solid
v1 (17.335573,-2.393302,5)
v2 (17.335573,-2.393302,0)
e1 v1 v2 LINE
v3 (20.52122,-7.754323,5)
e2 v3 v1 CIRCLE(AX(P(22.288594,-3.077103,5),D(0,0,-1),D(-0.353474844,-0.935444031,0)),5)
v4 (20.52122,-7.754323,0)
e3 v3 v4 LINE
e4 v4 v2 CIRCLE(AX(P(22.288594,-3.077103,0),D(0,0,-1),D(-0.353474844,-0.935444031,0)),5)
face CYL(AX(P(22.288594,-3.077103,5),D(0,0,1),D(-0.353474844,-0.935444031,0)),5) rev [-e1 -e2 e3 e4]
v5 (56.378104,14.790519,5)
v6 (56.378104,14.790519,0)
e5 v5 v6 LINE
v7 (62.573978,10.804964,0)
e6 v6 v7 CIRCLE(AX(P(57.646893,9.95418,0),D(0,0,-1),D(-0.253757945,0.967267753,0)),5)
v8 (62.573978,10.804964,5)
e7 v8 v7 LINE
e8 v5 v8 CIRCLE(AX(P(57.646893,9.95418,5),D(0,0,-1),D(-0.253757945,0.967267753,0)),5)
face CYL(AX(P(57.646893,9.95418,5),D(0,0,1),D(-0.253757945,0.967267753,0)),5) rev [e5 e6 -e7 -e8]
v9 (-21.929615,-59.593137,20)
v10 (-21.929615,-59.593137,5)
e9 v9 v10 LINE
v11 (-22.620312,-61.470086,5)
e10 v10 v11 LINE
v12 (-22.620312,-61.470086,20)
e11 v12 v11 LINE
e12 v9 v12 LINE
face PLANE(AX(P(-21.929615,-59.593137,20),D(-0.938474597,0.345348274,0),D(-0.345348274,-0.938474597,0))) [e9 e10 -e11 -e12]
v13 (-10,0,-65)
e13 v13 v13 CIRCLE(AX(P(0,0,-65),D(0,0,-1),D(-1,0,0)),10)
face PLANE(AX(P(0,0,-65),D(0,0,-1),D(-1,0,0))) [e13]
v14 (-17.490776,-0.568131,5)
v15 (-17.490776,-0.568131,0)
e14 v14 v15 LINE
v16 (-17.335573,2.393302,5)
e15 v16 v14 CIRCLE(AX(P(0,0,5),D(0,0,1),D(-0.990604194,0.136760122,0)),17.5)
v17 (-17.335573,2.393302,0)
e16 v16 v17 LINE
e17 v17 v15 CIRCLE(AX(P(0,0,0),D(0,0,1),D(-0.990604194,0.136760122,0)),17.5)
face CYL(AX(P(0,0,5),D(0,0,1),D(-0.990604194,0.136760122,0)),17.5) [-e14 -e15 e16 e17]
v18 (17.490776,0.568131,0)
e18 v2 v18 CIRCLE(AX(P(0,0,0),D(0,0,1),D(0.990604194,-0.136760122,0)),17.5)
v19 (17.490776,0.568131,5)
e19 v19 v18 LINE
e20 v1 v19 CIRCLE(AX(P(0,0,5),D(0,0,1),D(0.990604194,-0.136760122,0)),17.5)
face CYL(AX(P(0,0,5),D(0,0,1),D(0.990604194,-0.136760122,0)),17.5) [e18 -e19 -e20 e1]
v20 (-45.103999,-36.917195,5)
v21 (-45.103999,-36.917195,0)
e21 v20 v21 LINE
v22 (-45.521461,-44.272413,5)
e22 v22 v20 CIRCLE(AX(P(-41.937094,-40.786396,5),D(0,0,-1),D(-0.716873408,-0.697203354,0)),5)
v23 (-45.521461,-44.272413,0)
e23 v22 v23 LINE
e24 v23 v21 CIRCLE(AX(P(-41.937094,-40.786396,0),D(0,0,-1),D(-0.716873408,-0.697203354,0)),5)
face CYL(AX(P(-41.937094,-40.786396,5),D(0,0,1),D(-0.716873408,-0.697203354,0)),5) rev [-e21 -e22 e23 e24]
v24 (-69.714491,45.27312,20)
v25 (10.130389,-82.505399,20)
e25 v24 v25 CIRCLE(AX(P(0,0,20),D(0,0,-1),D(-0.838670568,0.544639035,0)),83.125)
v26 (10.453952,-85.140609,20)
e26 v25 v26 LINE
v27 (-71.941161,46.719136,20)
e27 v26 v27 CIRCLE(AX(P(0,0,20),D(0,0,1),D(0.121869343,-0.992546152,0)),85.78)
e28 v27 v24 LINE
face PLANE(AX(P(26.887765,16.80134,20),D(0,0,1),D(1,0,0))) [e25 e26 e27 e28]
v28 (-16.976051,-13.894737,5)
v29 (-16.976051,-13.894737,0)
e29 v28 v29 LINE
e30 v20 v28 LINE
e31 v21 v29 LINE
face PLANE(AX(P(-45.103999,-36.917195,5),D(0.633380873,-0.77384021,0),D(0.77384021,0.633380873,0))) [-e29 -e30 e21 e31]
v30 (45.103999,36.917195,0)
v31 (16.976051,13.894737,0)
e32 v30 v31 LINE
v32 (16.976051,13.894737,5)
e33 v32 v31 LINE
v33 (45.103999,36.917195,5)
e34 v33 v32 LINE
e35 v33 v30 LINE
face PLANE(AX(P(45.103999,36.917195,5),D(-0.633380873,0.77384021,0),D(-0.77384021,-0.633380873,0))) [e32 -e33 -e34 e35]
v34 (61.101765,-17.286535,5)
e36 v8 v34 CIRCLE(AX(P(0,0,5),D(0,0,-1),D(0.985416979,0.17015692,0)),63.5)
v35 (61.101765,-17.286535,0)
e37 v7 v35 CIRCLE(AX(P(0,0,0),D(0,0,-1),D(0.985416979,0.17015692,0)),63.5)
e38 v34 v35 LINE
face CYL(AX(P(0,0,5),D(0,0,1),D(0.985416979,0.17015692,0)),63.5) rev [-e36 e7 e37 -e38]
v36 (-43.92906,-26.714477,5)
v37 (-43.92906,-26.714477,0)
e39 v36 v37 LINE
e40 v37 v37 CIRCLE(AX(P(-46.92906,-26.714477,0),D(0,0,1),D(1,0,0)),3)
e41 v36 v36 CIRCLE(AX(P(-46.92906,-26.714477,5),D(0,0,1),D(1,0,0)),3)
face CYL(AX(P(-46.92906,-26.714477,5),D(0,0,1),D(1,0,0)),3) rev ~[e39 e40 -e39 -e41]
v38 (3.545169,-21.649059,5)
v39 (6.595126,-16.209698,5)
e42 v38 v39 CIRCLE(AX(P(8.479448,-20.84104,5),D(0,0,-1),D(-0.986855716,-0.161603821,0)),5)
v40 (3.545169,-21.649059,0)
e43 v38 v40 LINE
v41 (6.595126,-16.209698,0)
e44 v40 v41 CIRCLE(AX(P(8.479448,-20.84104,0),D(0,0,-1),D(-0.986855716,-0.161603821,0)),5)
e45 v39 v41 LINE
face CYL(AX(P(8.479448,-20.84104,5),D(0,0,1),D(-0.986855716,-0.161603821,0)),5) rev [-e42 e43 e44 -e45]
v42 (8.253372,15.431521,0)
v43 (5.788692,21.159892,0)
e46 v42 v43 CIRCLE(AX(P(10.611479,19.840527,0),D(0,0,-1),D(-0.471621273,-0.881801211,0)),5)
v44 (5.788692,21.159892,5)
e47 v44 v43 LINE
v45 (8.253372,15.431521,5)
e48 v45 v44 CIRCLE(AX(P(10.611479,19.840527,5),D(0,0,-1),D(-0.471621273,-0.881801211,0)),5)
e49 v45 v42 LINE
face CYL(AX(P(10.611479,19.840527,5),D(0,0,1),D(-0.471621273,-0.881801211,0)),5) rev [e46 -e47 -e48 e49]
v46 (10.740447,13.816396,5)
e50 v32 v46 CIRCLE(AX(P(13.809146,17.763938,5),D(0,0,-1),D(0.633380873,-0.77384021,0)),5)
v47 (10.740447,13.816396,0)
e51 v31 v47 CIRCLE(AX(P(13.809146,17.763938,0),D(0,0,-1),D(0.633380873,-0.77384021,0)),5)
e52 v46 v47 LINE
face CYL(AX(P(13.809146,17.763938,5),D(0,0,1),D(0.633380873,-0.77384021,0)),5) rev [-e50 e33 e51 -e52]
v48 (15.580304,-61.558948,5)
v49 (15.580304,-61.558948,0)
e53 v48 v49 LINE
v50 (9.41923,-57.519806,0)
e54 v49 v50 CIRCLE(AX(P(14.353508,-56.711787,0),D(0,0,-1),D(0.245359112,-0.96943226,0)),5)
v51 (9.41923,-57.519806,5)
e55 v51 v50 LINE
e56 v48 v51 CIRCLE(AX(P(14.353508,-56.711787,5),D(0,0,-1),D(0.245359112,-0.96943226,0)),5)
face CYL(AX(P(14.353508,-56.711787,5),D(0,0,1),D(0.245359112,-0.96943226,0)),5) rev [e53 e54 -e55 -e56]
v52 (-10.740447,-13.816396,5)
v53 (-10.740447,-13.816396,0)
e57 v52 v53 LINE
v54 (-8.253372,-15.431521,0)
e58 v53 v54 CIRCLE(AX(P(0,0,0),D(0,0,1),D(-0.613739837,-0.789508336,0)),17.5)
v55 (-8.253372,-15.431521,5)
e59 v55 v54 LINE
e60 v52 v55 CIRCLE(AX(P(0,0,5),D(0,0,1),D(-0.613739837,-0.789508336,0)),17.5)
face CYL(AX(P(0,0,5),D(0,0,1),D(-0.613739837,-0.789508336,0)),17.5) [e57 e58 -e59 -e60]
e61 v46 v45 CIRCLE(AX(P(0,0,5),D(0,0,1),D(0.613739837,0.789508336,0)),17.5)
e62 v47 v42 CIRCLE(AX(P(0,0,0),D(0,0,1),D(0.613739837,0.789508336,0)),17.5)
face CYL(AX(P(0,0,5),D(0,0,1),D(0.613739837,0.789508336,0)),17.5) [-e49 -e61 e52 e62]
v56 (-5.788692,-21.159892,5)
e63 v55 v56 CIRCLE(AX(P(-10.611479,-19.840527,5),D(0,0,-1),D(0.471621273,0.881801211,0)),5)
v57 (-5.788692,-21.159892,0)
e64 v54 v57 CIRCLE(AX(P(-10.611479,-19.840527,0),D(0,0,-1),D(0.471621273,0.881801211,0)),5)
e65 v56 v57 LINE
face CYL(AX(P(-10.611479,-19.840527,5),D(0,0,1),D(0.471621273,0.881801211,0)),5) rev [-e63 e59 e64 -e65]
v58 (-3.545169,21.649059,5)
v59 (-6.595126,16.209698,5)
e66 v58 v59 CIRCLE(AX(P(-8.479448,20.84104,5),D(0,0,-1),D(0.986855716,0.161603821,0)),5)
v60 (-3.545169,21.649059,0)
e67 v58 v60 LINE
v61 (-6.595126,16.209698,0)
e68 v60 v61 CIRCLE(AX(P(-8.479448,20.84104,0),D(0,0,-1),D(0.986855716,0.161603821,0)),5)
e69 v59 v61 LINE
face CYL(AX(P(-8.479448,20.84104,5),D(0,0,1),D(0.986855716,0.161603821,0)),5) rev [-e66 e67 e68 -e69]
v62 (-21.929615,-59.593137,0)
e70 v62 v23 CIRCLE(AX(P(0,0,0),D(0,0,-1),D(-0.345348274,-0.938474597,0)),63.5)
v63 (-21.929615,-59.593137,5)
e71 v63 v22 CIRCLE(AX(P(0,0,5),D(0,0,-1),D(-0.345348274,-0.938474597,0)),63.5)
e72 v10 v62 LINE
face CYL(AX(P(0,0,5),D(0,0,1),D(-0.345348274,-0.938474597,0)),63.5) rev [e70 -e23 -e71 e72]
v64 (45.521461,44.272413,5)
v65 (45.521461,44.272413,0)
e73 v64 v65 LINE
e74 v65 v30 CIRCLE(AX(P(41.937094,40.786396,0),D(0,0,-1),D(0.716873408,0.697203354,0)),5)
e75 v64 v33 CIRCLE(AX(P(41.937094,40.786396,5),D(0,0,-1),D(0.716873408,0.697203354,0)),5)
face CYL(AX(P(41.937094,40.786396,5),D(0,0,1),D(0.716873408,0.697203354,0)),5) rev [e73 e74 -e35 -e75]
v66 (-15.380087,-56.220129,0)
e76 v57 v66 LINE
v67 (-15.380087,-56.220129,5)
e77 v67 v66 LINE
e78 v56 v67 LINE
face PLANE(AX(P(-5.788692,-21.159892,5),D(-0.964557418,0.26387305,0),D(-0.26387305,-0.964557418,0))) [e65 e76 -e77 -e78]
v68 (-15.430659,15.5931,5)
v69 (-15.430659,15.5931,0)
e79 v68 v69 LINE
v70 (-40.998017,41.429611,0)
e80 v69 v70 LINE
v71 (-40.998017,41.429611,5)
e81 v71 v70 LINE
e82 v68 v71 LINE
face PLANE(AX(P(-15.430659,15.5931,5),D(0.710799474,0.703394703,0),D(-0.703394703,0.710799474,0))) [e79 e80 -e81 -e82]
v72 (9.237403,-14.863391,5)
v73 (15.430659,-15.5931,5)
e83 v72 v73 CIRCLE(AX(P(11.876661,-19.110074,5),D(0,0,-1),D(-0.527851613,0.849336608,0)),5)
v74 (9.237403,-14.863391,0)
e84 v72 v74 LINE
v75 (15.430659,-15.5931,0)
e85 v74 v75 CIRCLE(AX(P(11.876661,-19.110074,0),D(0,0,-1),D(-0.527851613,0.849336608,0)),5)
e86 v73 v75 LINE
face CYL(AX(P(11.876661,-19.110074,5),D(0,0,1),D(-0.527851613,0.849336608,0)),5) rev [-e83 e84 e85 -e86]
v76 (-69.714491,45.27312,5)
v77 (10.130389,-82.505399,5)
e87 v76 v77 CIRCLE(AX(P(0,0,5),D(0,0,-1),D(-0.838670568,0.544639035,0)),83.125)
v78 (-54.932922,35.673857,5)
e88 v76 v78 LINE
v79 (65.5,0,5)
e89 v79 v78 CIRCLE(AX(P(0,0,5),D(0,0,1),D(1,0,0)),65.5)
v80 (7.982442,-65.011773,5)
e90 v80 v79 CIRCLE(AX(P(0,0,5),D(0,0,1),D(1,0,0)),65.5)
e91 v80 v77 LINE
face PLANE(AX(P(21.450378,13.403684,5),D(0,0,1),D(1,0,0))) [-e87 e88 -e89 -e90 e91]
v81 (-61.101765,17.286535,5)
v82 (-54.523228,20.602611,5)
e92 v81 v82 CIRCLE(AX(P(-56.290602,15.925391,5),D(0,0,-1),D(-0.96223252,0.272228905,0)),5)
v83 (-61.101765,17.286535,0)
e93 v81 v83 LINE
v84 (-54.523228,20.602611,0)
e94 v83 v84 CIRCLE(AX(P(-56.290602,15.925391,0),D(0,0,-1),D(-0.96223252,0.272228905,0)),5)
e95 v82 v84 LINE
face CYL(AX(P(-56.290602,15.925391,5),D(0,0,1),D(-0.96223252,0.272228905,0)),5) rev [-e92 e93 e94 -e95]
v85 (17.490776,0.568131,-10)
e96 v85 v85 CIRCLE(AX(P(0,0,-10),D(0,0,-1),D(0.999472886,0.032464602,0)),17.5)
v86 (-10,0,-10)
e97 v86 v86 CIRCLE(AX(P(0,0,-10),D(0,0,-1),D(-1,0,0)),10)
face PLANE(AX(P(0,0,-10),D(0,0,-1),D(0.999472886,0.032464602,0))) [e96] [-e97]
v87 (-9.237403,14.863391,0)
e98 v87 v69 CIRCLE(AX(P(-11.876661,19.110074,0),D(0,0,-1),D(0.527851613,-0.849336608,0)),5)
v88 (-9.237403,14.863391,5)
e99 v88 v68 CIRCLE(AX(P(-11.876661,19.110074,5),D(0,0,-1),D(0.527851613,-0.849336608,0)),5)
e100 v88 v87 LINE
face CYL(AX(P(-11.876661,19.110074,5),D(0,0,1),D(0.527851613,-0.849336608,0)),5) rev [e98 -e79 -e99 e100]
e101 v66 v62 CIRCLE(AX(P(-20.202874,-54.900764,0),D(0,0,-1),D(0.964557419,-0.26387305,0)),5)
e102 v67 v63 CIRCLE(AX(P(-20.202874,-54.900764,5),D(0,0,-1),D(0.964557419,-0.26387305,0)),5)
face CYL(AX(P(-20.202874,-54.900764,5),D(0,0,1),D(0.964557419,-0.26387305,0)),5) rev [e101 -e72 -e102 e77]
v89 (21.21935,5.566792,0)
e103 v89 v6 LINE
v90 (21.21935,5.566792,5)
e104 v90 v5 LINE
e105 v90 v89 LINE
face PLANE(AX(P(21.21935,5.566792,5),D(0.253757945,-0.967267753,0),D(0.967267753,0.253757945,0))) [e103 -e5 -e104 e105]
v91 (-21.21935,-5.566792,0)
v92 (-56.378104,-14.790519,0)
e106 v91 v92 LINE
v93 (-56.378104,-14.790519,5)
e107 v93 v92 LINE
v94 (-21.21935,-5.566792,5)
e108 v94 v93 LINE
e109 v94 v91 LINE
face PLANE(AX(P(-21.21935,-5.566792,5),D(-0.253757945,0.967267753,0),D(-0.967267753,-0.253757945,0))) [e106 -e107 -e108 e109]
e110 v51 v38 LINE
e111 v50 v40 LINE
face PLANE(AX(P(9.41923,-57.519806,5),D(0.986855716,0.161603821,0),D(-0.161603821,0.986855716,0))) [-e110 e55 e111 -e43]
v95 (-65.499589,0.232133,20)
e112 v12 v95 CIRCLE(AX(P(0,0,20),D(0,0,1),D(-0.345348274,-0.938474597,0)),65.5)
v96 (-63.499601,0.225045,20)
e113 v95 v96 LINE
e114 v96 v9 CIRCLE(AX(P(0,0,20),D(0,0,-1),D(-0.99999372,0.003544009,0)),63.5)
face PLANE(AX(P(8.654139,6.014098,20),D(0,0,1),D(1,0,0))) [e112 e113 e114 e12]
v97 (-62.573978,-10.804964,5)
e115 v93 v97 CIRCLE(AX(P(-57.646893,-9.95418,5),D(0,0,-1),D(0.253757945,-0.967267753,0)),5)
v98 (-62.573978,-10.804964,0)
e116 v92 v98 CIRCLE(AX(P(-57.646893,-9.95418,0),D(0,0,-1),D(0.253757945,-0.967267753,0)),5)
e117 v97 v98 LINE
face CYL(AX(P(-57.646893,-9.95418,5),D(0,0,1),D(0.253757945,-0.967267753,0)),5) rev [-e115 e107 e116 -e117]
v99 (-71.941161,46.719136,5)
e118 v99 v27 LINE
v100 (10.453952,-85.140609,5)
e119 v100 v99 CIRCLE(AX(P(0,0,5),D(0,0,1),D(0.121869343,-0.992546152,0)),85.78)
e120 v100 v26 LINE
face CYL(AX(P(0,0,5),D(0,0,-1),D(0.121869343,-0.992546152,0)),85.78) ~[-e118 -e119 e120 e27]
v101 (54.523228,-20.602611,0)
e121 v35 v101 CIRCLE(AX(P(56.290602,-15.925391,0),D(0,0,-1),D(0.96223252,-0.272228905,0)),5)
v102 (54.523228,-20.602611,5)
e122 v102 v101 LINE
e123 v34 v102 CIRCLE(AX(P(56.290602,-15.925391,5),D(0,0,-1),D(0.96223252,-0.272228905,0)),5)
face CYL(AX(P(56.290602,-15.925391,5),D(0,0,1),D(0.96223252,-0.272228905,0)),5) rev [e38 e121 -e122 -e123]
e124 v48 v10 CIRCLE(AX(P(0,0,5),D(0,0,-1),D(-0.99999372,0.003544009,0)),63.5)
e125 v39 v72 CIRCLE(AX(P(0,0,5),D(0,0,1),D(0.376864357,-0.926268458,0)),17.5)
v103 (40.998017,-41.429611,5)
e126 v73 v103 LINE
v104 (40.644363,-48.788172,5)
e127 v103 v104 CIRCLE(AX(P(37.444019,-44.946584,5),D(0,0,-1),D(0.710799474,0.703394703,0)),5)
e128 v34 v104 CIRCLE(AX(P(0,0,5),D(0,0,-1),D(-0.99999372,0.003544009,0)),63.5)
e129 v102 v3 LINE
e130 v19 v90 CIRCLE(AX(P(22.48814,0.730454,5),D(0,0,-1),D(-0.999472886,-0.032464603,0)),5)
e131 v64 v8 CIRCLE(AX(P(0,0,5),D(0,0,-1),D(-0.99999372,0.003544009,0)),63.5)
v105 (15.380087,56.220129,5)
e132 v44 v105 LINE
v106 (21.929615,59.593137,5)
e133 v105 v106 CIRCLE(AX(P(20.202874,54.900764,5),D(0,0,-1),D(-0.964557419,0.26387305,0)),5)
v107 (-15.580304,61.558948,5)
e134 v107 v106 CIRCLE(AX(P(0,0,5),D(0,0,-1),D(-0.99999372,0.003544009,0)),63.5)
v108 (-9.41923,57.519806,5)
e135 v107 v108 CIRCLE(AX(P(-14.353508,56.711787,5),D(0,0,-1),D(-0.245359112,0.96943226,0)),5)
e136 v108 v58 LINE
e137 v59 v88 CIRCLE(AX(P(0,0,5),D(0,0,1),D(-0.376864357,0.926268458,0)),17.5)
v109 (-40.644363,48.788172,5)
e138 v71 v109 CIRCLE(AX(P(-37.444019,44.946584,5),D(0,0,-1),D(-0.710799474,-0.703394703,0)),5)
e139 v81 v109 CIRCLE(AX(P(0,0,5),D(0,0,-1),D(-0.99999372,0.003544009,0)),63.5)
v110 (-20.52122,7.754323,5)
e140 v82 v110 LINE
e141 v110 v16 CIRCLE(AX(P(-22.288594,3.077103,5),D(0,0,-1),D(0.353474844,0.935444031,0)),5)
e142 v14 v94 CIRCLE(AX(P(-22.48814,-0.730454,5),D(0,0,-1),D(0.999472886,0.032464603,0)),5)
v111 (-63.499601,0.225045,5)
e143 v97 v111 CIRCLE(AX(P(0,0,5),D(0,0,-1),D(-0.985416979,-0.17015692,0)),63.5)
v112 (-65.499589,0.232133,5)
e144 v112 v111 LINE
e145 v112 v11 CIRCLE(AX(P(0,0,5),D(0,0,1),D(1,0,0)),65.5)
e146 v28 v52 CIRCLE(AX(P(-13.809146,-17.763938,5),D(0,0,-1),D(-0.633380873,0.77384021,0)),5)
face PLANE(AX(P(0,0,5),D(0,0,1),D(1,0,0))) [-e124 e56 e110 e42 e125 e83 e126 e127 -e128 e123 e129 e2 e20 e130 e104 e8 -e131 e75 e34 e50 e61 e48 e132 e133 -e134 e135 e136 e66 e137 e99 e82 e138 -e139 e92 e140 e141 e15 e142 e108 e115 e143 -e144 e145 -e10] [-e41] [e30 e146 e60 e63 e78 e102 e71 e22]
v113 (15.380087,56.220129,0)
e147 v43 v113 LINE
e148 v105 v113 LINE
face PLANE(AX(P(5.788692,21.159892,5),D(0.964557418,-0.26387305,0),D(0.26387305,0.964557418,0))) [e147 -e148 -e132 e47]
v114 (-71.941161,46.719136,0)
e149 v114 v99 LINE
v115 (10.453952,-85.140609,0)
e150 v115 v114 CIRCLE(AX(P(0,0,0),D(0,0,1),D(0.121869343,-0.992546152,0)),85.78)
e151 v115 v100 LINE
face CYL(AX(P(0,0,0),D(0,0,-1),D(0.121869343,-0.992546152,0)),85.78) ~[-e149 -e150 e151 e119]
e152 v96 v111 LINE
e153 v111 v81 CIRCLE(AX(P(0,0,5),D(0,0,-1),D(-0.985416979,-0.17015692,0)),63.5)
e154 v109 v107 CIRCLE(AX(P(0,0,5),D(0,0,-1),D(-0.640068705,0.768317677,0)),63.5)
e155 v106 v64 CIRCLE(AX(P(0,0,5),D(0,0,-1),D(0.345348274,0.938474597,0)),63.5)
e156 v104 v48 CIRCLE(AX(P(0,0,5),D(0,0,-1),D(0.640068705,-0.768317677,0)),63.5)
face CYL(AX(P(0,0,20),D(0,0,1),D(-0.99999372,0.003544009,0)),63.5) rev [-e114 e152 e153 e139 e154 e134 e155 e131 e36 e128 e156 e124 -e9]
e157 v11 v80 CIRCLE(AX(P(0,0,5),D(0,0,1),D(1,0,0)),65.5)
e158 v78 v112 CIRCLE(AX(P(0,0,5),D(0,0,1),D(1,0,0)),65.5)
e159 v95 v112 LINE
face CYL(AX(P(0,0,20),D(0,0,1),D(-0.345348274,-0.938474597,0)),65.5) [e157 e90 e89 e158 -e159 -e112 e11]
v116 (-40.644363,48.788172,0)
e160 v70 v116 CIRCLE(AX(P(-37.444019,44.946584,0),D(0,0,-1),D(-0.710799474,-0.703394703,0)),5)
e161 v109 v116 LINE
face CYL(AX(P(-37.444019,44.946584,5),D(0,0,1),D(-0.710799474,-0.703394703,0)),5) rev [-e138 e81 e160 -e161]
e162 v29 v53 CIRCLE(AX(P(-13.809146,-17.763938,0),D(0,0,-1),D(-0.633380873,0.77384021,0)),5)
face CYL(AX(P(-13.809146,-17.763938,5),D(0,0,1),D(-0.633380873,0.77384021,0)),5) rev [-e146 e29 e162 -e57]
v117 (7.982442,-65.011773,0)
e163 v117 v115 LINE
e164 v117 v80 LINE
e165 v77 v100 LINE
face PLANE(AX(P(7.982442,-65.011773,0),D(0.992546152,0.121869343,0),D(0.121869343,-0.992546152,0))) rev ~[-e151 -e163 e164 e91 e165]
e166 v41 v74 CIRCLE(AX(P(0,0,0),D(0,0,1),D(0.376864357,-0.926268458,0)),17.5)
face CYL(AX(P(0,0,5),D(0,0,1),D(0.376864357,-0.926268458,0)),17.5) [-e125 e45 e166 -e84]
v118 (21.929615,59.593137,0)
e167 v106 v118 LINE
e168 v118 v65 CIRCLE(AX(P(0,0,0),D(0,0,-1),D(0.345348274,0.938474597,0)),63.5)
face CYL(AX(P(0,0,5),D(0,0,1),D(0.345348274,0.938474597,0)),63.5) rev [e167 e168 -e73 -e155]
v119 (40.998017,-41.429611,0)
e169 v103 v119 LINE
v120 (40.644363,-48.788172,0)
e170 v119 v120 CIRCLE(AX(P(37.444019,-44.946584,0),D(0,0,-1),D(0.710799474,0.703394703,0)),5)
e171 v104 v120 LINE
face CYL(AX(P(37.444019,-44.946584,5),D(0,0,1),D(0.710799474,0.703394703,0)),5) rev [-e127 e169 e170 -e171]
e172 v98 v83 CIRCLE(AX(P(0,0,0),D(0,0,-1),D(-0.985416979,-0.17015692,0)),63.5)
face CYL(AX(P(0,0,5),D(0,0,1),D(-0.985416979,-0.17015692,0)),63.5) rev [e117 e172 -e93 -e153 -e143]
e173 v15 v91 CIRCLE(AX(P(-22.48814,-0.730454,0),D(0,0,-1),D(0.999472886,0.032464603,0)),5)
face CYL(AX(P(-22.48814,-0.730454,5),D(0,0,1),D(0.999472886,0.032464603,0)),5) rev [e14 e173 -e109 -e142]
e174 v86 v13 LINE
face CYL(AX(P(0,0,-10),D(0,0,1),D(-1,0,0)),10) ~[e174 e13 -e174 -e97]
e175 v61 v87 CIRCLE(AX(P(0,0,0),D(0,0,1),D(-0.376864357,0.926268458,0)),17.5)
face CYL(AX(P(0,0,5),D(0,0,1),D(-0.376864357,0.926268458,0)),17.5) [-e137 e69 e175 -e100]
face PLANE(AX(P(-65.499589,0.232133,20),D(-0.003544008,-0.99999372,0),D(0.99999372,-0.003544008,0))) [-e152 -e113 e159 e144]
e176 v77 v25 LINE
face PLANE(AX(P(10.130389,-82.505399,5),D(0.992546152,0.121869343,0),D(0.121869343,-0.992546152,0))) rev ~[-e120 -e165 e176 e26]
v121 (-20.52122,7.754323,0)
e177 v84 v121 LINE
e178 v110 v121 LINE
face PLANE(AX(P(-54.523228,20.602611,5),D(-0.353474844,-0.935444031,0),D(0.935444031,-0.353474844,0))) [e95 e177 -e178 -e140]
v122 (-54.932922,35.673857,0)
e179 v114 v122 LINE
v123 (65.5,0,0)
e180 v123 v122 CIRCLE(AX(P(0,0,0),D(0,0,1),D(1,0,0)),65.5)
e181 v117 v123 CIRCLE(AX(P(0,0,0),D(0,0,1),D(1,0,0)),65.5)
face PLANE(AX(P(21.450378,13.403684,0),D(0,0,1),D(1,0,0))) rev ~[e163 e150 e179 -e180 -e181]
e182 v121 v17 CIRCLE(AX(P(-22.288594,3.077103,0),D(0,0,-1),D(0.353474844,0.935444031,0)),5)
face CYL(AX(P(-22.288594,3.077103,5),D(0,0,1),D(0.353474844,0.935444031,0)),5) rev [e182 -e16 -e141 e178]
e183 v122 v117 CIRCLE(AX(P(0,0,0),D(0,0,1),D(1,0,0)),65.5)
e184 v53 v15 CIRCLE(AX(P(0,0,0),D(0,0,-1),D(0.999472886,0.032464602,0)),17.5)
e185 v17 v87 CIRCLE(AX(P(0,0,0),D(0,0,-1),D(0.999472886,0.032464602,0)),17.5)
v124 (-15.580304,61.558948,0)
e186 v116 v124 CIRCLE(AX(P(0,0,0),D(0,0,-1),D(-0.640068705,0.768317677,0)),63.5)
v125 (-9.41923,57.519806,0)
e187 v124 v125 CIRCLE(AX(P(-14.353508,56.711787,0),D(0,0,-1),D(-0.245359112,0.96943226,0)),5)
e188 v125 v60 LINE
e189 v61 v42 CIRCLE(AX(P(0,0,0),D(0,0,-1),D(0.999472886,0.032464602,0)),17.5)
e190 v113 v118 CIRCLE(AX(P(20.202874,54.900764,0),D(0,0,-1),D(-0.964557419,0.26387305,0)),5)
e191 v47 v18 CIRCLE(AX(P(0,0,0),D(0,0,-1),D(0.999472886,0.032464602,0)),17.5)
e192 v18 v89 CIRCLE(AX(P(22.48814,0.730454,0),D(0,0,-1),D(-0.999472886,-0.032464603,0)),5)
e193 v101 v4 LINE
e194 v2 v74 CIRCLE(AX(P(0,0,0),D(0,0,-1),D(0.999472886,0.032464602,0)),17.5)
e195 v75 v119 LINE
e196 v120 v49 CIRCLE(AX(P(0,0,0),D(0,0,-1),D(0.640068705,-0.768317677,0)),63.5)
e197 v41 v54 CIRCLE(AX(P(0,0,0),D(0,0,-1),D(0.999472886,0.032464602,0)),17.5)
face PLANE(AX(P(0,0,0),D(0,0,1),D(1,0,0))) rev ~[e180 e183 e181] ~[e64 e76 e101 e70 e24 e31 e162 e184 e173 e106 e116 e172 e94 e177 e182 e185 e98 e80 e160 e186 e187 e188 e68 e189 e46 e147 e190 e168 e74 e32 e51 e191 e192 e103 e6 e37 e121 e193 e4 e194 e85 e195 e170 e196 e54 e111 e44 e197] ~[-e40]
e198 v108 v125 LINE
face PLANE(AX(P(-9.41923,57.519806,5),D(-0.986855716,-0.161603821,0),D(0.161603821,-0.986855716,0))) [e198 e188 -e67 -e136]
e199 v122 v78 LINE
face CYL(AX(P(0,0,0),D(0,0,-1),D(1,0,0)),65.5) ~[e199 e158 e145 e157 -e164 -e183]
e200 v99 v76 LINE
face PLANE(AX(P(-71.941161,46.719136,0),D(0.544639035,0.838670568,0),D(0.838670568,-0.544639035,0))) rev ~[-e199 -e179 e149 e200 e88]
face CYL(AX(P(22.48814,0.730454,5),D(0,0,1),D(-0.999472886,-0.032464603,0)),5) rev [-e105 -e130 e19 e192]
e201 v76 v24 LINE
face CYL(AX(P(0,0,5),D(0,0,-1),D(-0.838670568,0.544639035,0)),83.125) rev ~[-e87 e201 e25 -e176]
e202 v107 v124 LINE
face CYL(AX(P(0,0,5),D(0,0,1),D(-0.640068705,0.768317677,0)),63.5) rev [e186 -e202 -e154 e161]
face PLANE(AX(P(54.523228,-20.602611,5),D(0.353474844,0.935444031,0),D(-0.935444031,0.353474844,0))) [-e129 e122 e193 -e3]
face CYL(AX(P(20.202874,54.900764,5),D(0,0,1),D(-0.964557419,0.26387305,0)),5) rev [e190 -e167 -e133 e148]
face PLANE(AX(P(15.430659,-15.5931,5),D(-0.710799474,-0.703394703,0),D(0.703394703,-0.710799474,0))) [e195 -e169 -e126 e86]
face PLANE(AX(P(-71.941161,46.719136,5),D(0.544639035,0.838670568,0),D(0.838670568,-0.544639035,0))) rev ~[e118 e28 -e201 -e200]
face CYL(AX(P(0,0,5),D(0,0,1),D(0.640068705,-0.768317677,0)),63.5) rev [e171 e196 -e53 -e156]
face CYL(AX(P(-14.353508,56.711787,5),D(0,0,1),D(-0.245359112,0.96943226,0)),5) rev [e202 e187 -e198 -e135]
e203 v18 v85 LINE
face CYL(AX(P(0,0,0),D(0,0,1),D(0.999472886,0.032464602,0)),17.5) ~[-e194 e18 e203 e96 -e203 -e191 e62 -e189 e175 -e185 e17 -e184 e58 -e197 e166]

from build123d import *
from build123d.topology import SkipClean

# Parameters (mm, degrees)
SCHIZZO2_R                   = 65.5
ESTRUSIONE_ESTRUSIONE1_DEPTH = 5
TAGLIO_ESTRUSIONE1_DEPTH     = 5
ESTRUSIONE_ESTRUSIONE2_START = 15
ESTRUSIONE_ESTRUSIONE2_DEPTH = 15
ESTRUSIONE_ESTRUSIONE3_DEPTH = 5
ESTRUSIONE_ESTRUSIONE4_DEPTH = 15
SCHIZZO7_R                   = 17.5
ESTRUSIONE_ESTRUSIONE5_DEPTH = 10
SCHIZZO8_R                   = 10
ESTRUSIONE_ESTRUSIONE6_DEPTH = 55
SCHIZZO9_R                   = 3
TAGLIO_ESTRUSIONE2_DEPTH     = 141.058619156


with BuildPart() as part:
    # Schizzo2 → Estrusione-Estrusione1 (new body)
    with BuildSketch(Plane.XY):
        Circle(SCHIZZO2_R)
    extrude(amount=ESTRUSIONE_ESTRUSIONE1_DEPTH)

    # Schizzo3 → Taglio-Estrusione1 (cut)
    with BuildSketch(Plane.XY.offset(5)):
        with BuildLine():
            ThreePointArc((-15.580303655, 61.558948481), (-11.6121535, 60.893291099), (-9.419229509, 57.519806288))
            Line((-9.419229509, 57.519806288), (-3.545169438, 21.649059417))
            ThreePointArc((-3.545169438, 21.649059417), (-4.118256573, 18.395634586), (-6.595126238, 16.20969802))
            ThreePointArc((-6.595126238, 16.20969802), (-7.944833745, 15.592614173), (-9.237403233, 14.863390647))
            ThreePointArc((-9.237403233, 14.863390647), (-12.461730523, 14.144422271), (-15.430658669, 15.593100175))
            Line((-15.430658669, 15.593100175), (-40.998016607, 41.429610598))
            ThreePointArc((-40.998016607, 41.429610598), (-42.438254768, 45.186607995), (-40.644362762, 48.788172498))
            ThreePointArc((-40.644362762, 48.788172498), (-28.828396733, 56.578914286), (-15.580303655, 61.558948481))
        make_face()
        with BuildLine():
            ThreePointArc((10.740447155, 13.816395873), (9.531183113, 14.676734939), (8.25337227, 15.431521188))
            ThreePointArc((8.25337227, 15.431521188), (6.018563747, 17.864386344), (5.788691541, 21.159892491))
            Line((5.788691541, 21.159892491), (15.380086943, 56.220129185))
            ThreePointArc((15.380086943, 56.220129185), (17.91362305, 59.345910719), (21.929615406, 59.593136921))
            ThreePointArc((21.929615406, 59.593136921), (34.584578723, 53.255581065), (45.521461387, 44.272413004))
            ThreePointArc((45.521461387, 44.272413004), (46.929060262, 40.503065473), (45.103998712, 36.917195183))
            Line((45.103998712, 36.917195183), (16.976050705, 13.894736502))
            ThreePointArc((16.976050705, 13.894736502), (13.871958583, 12.764332104), (10.740447155, 13.816395873))
        make_face()
        with BuildLine():
            ThreePointArc((17.335573392, -2.393302147), (17.476016858, -0.915879234), (17.490775503, 0.568130541))
            ThreePointArc((17.490775503, 0.568130541), (18.48029427, 3.719964073), (21.219350209, 5.566792317))
            Line((21.219350209, 5.566792317), (56.37810355, 14.790518587))
            ThreePointArc((56.37810355, 14.790518587), (60.351877818, 14.159302724), (62.573978168, 10.804964424))
            ThreePointArc((62.573978168, 10.804964424), (63.412975457, -3.323333221), (61.101765042, -17.286535477))
            ThreePointArc((61.101765042, -17.286535477), (58.541213762, -20.390225626), (54.523228221, -20.602611105))
            Line((54.523228221, -20.602611105), (20.521220142, -7.754322915))
            ThreePointArc((20.521220142, -7.754322915), (17.990215156, -5.631302481), (17.335573392, -2.393302147))
        make_face()
        with BuildLine():
            ThreePointArc((6.595126238, -16.20969802), (7.944833745, -15.592614173), (9.237403233, -14.863390647))
            ThreePointArc((9.237403233, -14.863390647), (12.461730523, -14.144422271), (15.430658669, -15.593100175))
            Line((15.430658669, -15.593100175), (40.998016607, -41.429610598))
            ThreePointArc((40.998016607, -41.429610598), (42.438254768, -45.186607995), (40.644362762, -48.788172498))
            ThreePointArc((40.644362762, -48.788172498), (28.828396733, -56.578914286), (15.580303655, -61.558948481))
            ThreePointArc((15.580303655, -61.558948481), (11.6121535, -60.893291099), (9.419229509, -57.519806288))
            Line((9.419229509, -57.519806288), (3.545169438, -21.649059417))
            ThreePointArc((3.545169438, -21.649059417), (4.118256573, -18.395634586), (6.595126238, -16.20969802))
        make_face()
        with BuildLine():
            ThreePointArc((-10.740447155, -13.816395873), (-9.531183113, -14.676734939), (-8.25337227, -15.431521188))
            ThreePointArc((-8.25337227, -15.431521188), (-6.018563747, -17.864386344), (-5.788691541, -21.159892491))
            Line((-5.788691541, -21.159892491), (-15.380086943, -56.220129185))
            ThreePointArc((-15.380086943, -56.220129185), (-17.91362305, -59.345910719), (-21.929615406, -59.593136921))
            ThreePointArc((-21.929615406, -59.593136921), (-34.584578723, -53.255581065), (-45.521461387, -44.272413004))
            ThreePointArc((-45.521461387, -44.272413004), (-46.929060262, -40.503065473), (-45.103998712, -36.917195183))
            Line((-45.103998712, -36.917195183), (-16.976050705, -13.894736502))
            ThreePointArc((-16.976050705, -13.894736502), (-13.871958583, -12.764332104), (-10.740447155, -13.816395873))
        make_face()
        with BuildLine():
            ThreePointArc((-17.335573392, 2.393302147), (-17.476016858, 0.915879234), (-17.490775503, -0.568130541))
            ThreePointArc((-17.490775503, -0.568130541), (-18.48029427, -3.719964073), (-21.219350209, -5.566792317))
            Line((-21.219350209, -5.566792317), (-56.37810355, -14.790518587))
            ThreePointArc((-56.37810355, -14.790518587), (-60.351877818, -14.159302724), (-62.573978168, -10.804964424))
            ThreePointArc((-62.573978168, -10.804964424), (-63.412975457, 3.323333221), (-61.101765042, 17.286535477))
            ThreePointArc((-61.101765042, 17.286535477), (-58.541213762, 20.390225626), (-54.523228221, 20.602611105))
            Line((-54.523228221, 20.602611105), (-20.521220142, 7.754322915))
            ThreePointArc((-20.521220142, 7.754322915), (-17.990215156, 5.631302481), (-17.335573392, 2.393302147))
        make_face()
    extrude(amount=-TAGLIO_ESTRUSIONE1_DEPTH, mode=Mode.SUBTRACT)

    # Schizzo4 → Estrusione-Estrusione2 (add)
    with SkipClean():  # the faces are left unmerged after this step: merging them gives an invalid solid
        with BuildSketch(Plane.XY.offset(5).offset(ESTRUSIONE_ESTRUSIONE2_START)):
            with BuildLine():
                Line((-65.499588659, 0.23213256), (-63.499601219, 0.225044543))
                ThreePointArc((-63.499601219, 0.225044543), (52.144908397, 36.23752928), (-21.929615406, -59.593136921))
                Line((-21.929615406, -59.593136921), (-22.620311954, -61.470086116))
                ThreePointArc((-22.620311954, -61.470086116), (53.787267716, 37.378868785), (-65.499588659, 0.23213256))
            make_face()
        extrude(amount=-ESTRUSIONE_ESTRUSIONE2_DEPTH)

    # Schizzo5 → Estrusione-Estrusione3 (add)
    with SkipClean():  # the faces are left unmerged after this step: merging them gives an invalid solid
        with BuildSketch(Plane.XY):
            with BuildLine():
                Line((-71.941161318, 46.719136424), (-54.9329222, 35.673856793))
                ThreePointArc((-54.9329222, 35.673856793), (55.547150298, 34.709711807), (7.982441993, -65.011772933))
                Line((7.982441993, -65.011772933), (10.453952277, -85.140608888))
                ThreePointArc((10.453952277, -85.140608888), (72.745565688, 45.456474486), (-71.941161318, 46.719136424))
            make_face()
        extrude(amount=ESTRUSIONE_ESTRUSIONE3_DEPTH)

    # Schizzo6 → Estrusione-Estrusione4 (add)
    with SkipClean():  # the faces are left unmerged after this step: merging them gives an invalid solid
        with BuildSketch(Plane.XY.offset(5)):
            with BuildLine():
                Line((-71.941161318, 46.719136424), (-69.71449096, 45.273119786))
                ThreePointArc((-69.71449096, 45.273119786), (70.493997993, 44.049538839), (10.130389171, -82.505398855))
                Line((10.130389171, -82.505398855), (10.453952277, -85.140608888))
                ThreePointArc((10.453952277, -85.140608888), (72.745565688, 45.456474486), (-71.941161318, 46.719136424))
            make_face()
        extrude(amount=ESTRUSIONE_ESTRUSIONE4_DEPTH)

    # Schizzo7 → Estrusione-Estrusione5 (add)
    with SkipClean():  # the faces are left unmerged after this step: merging them gives an invalid solid
        with BuildSketch(Plane(origin=(0, 0, 0), x_dir=(-1, 0, 0), z_dir=(0, 0, -1))):
            with Locations(Location((0, 0, 0), (0, 0, 178.139588407))):
                Circle(SCHIZZO7_R)
        extrude(amount=ESTRUSIONE_ESTRUSIONE5_DEPTH)

    # Schizzo8 → Estrusione-Estrusione6 (add)
    with SkipClean():  # the faces are left unmerged after this step: merging them gives an invalid solid
        with BuildSketch(Plane(origin=(0, 0, -10), x_dir=(-1, 0, 0), z_dir=(0, 0, -1))):
            Circle(SCHIZZO8_R)
        extrude(amount=ESTRUSIONE_ESTRUSIONE6_DEPTH)

    # Schizzo9 → Taglio-Estrusione2 (cut, through all)
    with SkipClean():  # the faces are left unmerged after this step: merging them gives an invalid solid
        with BuildSketch(Plane.XY.offset(5)):
            with Locations((-46.929060262, -26.714477403)):
                Circle(SCHIZZO9_R)
        extrude(amount=-TAGLIO_ESTRUSIONE2_DEPTH, mode=Mode.SUBTRACT)


solid = part.part
